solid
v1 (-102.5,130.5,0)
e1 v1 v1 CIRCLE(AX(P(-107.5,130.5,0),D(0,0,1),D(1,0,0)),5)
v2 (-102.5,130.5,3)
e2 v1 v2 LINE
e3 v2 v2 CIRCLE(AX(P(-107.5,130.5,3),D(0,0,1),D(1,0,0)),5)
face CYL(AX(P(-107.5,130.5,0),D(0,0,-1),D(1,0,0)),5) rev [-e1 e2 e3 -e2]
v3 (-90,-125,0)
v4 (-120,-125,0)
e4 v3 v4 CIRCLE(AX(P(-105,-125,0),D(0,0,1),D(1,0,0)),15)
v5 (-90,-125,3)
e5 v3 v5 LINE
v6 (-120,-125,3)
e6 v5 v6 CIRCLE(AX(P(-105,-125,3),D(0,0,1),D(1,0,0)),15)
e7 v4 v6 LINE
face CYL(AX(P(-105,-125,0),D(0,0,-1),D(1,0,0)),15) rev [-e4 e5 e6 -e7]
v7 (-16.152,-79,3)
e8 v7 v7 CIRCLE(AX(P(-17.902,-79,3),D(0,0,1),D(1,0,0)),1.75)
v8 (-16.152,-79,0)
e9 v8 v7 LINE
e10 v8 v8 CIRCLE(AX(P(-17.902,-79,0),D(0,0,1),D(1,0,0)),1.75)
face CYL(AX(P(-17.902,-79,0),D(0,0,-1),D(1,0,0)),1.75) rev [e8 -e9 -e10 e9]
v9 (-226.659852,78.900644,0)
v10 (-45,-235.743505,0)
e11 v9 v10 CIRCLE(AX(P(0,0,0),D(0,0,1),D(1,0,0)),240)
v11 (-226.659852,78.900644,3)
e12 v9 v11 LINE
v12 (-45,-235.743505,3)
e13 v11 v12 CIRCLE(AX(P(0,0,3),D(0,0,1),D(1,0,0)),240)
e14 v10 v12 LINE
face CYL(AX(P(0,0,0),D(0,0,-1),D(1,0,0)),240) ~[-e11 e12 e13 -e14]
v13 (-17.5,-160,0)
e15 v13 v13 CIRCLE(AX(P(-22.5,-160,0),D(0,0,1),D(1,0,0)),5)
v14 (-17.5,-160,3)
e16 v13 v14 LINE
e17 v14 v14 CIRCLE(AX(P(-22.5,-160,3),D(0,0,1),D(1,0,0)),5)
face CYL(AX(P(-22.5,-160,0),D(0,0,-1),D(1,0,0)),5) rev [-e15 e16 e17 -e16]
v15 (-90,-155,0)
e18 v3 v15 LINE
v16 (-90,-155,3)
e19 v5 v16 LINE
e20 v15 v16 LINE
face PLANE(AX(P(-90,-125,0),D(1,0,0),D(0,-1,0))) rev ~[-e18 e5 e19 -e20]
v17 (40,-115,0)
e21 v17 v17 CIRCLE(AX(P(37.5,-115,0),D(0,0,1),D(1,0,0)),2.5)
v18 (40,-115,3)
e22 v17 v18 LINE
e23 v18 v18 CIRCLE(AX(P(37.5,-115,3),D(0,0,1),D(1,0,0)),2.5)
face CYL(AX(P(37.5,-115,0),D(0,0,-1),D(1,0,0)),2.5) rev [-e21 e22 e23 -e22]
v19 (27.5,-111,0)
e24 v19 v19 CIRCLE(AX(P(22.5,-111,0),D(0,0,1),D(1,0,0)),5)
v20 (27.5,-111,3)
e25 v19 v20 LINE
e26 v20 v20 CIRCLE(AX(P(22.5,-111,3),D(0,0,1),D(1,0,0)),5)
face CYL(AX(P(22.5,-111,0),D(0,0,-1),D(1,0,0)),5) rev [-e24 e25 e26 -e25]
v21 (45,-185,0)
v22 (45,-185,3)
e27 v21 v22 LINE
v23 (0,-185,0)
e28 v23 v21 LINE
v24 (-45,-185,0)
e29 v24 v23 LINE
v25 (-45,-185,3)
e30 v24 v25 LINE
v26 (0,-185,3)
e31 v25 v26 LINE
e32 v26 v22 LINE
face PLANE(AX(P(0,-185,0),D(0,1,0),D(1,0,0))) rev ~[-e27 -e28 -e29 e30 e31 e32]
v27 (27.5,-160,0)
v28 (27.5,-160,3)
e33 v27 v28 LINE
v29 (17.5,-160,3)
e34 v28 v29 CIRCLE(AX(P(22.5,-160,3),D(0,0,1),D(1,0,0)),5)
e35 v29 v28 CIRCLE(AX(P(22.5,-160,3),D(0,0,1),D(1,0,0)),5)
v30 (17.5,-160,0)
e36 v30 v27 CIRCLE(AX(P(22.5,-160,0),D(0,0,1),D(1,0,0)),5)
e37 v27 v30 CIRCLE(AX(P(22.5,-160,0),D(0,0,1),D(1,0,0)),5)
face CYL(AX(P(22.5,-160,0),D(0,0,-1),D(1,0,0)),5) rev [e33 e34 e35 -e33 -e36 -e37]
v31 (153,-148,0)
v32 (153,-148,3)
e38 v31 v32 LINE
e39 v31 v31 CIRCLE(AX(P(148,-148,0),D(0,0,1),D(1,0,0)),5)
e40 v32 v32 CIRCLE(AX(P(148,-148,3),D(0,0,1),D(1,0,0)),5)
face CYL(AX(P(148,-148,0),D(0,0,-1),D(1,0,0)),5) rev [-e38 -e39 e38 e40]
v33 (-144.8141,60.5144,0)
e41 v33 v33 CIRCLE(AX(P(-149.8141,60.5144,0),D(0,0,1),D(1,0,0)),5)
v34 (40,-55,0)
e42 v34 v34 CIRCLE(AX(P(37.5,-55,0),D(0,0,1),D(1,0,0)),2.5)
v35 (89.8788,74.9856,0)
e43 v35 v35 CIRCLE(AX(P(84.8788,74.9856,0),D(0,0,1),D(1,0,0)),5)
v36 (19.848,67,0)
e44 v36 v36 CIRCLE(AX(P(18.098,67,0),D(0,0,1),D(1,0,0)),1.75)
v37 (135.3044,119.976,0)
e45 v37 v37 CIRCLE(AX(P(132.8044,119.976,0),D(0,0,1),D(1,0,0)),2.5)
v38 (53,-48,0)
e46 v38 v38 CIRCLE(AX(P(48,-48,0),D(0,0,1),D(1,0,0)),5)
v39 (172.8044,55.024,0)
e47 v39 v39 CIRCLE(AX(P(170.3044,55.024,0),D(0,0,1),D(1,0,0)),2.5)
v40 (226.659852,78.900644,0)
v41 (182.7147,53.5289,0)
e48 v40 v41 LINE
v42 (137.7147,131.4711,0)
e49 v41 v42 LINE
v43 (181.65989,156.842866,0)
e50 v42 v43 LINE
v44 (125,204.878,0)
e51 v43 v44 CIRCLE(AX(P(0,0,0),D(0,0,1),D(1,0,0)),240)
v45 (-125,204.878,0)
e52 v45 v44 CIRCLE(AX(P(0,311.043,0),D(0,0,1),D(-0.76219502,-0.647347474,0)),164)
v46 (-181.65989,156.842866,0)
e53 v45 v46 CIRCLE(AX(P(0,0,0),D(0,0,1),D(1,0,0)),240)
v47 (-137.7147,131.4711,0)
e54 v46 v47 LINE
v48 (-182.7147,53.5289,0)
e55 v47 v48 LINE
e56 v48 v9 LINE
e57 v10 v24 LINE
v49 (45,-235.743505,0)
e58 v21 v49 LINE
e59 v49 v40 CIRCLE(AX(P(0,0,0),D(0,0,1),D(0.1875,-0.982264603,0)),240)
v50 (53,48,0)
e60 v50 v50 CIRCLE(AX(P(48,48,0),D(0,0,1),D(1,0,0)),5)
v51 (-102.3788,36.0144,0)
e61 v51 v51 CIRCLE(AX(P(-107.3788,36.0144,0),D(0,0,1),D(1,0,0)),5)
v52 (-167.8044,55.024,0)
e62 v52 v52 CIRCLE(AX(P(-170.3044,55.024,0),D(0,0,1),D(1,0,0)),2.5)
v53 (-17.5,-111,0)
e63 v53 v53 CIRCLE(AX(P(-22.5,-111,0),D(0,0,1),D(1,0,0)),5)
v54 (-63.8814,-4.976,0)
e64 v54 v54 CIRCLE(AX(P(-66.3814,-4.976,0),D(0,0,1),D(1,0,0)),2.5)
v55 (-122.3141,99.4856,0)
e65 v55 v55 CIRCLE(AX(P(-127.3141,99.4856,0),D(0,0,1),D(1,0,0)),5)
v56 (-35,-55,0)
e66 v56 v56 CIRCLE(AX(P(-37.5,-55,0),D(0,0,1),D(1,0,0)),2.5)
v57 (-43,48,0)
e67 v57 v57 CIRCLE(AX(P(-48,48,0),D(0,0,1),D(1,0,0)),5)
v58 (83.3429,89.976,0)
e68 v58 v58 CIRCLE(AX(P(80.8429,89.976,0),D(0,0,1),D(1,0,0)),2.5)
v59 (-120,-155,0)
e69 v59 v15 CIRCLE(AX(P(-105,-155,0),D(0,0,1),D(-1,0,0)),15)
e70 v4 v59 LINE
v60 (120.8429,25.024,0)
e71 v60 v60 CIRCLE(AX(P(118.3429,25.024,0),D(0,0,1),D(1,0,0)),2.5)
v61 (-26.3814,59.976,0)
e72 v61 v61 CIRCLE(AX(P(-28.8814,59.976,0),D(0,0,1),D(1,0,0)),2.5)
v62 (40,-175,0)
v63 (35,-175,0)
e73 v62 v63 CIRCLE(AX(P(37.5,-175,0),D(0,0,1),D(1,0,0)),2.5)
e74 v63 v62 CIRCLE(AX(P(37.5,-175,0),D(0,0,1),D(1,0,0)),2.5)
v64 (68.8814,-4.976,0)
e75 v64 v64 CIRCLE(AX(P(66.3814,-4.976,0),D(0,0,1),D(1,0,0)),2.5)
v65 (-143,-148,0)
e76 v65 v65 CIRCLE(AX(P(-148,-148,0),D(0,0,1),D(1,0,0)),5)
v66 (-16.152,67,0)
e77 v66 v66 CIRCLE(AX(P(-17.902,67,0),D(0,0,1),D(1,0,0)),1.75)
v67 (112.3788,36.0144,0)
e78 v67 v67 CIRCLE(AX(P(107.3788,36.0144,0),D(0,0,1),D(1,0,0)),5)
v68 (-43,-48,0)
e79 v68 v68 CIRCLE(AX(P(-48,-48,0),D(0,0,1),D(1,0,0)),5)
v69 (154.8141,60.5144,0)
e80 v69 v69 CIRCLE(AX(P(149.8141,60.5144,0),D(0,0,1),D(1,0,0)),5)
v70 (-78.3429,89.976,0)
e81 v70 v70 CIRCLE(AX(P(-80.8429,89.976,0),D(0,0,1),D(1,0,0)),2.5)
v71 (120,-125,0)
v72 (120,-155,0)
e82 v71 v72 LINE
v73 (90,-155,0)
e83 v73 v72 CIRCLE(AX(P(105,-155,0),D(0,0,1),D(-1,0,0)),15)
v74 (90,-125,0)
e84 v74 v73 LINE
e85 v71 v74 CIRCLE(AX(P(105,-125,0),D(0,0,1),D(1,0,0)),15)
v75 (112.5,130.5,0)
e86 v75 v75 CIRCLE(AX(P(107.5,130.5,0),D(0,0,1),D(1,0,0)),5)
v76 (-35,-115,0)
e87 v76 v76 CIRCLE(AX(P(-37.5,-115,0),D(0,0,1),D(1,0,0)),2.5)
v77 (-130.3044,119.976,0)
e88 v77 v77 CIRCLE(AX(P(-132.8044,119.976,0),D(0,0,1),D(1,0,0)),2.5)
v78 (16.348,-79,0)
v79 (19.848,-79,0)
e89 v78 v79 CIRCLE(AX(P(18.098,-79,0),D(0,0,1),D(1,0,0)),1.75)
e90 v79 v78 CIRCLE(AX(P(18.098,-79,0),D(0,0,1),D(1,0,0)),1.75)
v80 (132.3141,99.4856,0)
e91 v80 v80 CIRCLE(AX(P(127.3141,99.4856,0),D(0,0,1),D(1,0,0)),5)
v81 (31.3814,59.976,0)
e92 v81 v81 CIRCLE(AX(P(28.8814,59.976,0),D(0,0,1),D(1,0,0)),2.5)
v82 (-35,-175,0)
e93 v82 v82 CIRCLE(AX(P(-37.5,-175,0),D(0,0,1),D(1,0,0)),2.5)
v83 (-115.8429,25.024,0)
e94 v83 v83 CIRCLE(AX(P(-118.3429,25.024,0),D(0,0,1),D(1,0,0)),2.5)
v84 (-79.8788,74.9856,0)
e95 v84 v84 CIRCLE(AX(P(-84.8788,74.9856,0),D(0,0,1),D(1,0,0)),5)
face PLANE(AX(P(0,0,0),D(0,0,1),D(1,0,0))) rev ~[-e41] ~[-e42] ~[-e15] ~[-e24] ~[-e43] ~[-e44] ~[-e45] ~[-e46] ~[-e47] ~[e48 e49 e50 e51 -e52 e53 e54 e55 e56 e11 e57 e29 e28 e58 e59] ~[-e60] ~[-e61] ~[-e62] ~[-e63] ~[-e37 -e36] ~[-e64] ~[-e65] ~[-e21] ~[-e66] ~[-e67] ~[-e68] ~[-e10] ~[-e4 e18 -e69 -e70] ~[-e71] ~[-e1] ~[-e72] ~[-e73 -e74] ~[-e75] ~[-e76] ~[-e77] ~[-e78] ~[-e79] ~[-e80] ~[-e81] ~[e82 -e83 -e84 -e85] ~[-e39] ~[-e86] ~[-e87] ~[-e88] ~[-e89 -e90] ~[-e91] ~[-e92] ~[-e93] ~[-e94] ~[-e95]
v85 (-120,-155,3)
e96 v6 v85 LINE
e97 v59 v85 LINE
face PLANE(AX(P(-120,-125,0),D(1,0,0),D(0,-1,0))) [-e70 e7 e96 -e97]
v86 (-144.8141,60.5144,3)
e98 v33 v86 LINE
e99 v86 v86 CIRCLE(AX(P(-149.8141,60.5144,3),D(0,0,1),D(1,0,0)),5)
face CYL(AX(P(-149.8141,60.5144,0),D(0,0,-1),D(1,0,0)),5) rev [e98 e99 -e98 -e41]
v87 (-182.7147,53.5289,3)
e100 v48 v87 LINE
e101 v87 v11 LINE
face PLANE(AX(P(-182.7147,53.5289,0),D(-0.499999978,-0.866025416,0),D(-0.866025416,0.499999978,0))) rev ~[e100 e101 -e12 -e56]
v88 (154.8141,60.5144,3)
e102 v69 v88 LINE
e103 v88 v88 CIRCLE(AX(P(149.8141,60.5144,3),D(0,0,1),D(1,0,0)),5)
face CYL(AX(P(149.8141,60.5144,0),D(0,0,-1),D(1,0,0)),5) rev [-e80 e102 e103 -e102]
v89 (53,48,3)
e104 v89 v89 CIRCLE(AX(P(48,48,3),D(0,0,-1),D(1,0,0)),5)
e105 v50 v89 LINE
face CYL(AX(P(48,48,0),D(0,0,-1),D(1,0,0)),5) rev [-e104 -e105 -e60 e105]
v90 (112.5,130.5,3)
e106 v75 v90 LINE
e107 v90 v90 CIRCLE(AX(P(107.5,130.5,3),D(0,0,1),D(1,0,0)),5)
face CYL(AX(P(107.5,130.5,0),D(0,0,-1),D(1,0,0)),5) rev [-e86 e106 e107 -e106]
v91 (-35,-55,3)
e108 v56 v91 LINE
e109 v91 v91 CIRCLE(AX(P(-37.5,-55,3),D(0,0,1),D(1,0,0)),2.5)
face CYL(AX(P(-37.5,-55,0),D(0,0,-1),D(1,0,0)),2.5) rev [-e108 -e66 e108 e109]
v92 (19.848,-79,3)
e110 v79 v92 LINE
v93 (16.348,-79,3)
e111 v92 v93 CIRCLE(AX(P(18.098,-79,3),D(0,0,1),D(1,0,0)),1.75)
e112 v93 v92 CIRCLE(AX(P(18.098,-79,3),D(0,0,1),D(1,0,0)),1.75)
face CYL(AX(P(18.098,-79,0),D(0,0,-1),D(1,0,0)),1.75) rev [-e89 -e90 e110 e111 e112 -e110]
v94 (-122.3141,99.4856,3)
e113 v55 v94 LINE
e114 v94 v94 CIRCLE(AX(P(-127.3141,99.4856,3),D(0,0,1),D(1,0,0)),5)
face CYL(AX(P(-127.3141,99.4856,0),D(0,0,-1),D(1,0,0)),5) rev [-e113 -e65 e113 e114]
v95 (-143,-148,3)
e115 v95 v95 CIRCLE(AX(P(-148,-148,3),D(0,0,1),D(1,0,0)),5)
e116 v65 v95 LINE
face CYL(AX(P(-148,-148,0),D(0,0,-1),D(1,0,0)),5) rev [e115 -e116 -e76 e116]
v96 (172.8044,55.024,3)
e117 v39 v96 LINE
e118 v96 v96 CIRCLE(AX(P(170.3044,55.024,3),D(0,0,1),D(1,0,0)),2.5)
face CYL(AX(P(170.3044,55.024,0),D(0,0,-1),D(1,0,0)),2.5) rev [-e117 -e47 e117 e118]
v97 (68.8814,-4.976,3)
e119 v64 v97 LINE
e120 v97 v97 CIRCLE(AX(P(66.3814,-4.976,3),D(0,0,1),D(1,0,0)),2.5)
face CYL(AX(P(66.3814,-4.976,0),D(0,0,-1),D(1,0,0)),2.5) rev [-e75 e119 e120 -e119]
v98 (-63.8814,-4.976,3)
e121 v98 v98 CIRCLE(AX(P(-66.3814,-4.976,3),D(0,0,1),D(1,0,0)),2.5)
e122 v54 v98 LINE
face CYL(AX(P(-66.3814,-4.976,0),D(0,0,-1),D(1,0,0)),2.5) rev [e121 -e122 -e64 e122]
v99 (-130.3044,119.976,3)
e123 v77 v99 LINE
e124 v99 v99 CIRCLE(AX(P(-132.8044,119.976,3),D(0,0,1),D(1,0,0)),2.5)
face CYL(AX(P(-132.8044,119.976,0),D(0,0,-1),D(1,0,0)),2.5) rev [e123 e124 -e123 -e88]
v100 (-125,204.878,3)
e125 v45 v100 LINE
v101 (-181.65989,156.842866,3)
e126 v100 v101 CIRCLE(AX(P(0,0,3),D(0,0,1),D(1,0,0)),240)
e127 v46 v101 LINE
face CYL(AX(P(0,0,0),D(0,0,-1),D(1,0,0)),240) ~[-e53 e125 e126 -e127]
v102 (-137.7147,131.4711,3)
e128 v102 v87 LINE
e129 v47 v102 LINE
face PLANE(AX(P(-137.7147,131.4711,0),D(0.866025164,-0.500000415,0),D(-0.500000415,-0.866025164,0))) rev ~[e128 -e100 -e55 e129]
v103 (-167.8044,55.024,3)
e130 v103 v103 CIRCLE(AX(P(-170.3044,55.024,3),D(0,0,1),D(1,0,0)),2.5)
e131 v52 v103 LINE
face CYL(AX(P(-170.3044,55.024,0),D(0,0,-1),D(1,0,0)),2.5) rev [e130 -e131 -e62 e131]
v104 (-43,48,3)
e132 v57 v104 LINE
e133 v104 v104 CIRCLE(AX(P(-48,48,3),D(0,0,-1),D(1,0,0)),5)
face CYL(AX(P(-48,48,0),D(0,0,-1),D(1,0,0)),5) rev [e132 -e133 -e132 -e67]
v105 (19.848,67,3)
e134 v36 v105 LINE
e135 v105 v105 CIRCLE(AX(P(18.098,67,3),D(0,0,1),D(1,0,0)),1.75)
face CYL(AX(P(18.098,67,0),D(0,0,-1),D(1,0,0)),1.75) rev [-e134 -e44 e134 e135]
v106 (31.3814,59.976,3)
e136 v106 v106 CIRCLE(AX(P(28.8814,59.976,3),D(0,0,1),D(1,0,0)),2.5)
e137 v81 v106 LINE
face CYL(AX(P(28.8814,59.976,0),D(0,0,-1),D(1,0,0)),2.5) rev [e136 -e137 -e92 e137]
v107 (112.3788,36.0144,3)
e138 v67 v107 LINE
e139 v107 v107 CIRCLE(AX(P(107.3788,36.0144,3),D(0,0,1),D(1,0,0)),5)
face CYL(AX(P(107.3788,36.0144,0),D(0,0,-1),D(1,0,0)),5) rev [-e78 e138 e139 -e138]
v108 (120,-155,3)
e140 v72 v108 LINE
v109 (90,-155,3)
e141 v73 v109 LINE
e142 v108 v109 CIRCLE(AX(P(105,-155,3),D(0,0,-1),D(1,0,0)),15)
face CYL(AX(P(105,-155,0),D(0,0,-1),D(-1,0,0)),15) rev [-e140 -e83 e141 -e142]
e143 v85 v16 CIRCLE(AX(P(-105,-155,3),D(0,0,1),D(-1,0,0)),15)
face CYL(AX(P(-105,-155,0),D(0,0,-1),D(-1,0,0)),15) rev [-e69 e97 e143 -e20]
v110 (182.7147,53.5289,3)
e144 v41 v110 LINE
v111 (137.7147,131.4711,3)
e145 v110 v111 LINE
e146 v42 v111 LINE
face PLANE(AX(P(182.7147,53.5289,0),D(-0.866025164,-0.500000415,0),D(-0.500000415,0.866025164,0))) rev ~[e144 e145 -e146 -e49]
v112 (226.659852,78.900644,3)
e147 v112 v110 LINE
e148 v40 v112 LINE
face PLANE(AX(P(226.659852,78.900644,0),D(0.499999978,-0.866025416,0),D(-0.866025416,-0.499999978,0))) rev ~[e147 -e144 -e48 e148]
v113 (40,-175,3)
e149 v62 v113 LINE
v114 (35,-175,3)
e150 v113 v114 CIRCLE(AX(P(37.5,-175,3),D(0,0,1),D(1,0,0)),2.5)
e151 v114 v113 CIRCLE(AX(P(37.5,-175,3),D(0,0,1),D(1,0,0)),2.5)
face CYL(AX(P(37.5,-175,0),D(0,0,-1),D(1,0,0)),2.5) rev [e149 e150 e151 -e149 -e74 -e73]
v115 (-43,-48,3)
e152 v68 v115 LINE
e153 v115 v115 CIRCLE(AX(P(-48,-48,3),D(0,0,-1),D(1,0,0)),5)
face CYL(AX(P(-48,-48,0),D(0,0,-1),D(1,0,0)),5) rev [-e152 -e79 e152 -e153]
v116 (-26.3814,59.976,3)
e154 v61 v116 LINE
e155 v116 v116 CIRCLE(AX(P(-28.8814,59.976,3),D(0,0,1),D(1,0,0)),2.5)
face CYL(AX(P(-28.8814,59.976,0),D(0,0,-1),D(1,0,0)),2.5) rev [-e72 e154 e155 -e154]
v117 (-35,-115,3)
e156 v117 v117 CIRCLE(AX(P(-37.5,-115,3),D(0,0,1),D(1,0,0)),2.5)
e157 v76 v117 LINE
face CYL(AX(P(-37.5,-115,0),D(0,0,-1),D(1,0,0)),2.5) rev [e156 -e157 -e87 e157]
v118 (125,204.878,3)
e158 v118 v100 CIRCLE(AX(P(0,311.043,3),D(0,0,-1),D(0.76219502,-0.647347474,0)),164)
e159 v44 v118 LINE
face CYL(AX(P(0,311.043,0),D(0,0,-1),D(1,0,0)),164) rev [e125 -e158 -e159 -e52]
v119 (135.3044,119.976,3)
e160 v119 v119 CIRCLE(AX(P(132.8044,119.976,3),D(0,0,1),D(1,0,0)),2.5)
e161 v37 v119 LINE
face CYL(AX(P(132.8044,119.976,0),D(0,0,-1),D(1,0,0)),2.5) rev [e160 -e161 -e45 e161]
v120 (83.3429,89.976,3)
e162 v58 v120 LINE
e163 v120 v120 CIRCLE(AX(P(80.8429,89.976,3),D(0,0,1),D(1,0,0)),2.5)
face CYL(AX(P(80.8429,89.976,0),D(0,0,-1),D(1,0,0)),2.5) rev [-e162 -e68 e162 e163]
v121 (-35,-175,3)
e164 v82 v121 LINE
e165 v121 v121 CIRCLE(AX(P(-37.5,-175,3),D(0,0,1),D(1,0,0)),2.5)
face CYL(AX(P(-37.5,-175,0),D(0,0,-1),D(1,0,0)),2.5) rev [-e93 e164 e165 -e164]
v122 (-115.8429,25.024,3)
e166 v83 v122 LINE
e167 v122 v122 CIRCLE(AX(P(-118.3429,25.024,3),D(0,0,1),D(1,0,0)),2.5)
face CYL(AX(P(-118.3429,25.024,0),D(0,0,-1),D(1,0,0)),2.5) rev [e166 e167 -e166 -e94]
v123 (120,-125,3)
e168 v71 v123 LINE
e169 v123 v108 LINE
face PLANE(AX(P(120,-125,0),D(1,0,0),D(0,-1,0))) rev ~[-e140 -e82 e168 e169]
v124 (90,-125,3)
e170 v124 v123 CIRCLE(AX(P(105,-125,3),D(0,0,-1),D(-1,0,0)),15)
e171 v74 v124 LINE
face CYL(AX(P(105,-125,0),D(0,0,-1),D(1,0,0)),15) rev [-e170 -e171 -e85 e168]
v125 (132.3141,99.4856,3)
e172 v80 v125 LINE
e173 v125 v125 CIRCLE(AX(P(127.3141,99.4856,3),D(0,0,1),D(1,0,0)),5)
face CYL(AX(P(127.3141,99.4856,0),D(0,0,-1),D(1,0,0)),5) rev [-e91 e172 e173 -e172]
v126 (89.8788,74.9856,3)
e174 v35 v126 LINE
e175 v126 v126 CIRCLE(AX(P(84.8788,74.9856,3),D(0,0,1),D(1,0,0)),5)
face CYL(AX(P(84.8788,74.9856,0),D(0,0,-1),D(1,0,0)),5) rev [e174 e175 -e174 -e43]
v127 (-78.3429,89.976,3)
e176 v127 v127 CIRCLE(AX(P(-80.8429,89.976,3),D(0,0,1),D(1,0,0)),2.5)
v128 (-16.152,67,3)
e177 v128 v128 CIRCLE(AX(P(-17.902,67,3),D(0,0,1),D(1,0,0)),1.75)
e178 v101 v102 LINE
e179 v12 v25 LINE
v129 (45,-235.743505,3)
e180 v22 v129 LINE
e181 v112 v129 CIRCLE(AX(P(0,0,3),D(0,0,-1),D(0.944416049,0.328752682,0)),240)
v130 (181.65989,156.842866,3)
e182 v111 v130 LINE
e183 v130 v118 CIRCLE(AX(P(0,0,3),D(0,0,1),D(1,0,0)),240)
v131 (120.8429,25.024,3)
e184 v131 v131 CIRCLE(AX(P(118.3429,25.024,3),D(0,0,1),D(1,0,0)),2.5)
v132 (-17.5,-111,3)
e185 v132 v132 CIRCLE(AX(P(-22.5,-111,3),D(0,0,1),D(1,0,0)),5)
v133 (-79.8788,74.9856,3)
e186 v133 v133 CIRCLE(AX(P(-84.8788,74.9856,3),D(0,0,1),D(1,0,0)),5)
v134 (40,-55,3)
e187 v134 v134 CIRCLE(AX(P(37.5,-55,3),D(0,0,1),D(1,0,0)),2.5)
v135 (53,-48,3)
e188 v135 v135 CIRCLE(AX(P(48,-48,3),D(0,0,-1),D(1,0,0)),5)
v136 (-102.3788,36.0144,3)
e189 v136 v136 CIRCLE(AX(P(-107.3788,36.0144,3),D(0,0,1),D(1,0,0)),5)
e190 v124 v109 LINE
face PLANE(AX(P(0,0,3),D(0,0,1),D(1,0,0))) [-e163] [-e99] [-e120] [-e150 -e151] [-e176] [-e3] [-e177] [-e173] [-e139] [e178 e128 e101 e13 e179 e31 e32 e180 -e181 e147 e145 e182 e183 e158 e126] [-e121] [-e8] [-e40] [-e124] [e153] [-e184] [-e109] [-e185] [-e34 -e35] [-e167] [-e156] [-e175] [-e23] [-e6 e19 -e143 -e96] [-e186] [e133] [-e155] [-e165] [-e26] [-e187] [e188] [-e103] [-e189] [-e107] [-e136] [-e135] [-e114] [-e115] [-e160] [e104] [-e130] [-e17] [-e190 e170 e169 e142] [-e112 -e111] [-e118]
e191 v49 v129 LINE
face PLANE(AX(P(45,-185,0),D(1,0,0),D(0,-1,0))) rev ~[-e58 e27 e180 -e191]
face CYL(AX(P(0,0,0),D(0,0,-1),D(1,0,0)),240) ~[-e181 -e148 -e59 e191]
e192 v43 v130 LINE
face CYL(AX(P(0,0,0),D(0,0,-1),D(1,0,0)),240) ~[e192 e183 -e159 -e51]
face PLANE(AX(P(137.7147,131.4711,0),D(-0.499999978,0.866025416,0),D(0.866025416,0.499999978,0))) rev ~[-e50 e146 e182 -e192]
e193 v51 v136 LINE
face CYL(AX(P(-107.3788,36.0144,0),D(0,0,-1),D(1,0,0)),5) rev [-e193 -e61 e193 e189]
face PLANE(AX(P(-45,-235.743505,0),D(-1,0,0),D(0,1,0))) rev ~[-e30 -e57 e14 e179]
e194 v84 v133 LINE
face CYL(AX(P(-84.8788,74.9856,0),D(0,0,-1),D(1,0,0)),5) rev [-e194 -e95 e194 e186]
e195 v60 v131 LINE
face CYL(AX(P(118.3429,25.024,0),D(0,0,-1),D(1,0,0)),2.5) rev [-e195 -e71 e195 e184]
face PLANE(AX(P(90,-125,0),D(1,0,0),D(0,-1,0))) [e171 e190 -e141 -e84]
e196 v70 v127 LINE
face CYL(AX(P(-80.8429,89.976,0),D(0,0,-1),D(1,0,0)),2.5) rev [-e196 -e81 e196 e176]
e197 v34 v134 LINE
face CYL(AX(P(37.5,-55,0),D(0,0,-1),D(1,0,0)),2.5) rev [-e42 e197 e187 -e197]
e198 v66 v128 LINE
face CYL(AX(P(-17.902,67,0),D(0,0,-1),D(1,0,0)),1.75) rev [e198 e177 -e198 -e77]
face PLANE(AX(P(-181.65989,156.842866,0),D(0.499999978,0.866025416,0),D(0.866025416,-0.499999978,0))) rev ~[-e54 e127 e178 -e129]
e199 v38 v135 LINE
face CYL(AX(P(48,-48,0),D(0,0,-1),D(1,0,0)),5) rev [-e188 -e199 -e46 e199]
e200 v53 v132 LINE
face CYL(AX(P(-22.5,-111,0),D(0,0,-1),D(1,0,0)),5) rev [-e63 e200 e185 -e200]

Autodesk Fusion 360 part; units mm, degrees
sketch "Esboço1" plane through (0, 0, 0) normal (0, 0, 1) x (1, 0, 0)
  circle A0 centre (0, 0) radius 240
  line L0 (48, -48) -> (-48, -48)
  line L1 (-48, -48) -> (-48, 48)
  line L2 (-48, 48) -> (48, 48)
  line L3 (48, 48) -> (48, -48)
  line L4 (48, -48) -> (-48, 48) construction
  line L5 (-48, -48) -> (48, 48) construction
  circle A1 centre (-48, 48) radius 5
  circle A2 centre (-48, -48) radius 5
  circle A3 centre (48, 48) radius 5
  circle A4 centre (48, -48) radius 5
  line L6 (105, -110) -> (105, -170)
  line L7 (90, -125) -> (90, -155)
  line L8 (120, -125) -> (120, -155)
  arc A5 (120, -125) -> (90, -125) centre (105, -125) ccw
  arc A6 (90, -155) -> (120, -155) centre (105, -155) ccw
  circle A7 centre (148, -148) radius 5
  line L9 (-125, 204.878) -> (125, 204.878)
  circle A8 centre (0, 311.043) radius 164
  circle A9 centre (107.5, 130.5) radius 5
  line L10 (-40, 115) -> (40, 115)
  line L11 (-40, 115) -> (-40, 151.9958)
  line L12 (40, 115) -> (40, 151.9958)
  line L13 (0, 1.75) -> (0, 22.5)
  line L14 (-120, -125) -> (-120, -155)
  arc A10 (-90, -125) -> (-120, -125) centre (-105, -125) ccw
  line L15 (-90, -125) -> (-90, -155)
  arc A11 (-120, -155) -> (-90, -155) centre (-105, -155) ccw
  circle A12 centre (-148, -148) radius 5
  circle A13 centre (-107.5, 130.5) radius 5
  line L16 (-45, -185) -> (45, -185)
  line L17 (45, -185) -> (45, -240)
  line L18 (45, -240) -> (-45, -240)
  line L19 (-45, -240) -> (-45, -185)
  line L20 (0, -185) -> (0, -175)
  line L21 (-37.5, -175) -> (37.5, -175)
  circle A14 centre (-37.5, -175) radius 2.5
  circle A15 centre (37.5, -175) radius 2.5
  circle A16 centre (37.5, -115) radius 2.5
  circle A17 centre (37.5, -55) radius 2.5
  circle A18 centre (-37.5, -115) radius 2.5
  circle A19 centre (-37.5, -55) radius 2.5
  circle A20 centre (132.8044, 119.976) radius 2.5
  line L22 (230.3461, 81.0289) -> (182.7147, 53.5289)
  line L23 (182.7147, 53.5289) -> (137.7147, 131.4711)
  line L24 (137.7147, 131.4711) -> (185.3461, 158.9711)
  circle A21 centre (80.8429, 89.976) radius 2.5
  circle A22 centre (170.3044, 55.024) radius 2.5
  circle A23 centre (118.3429, 25.024) radius 2.5
  circle A24 centre (66.3814, -4.976) radius 2.5
  circle A25 centre (28.8814, 59.976) radius 2.5
  circle A26 centre (-170.3044, 55.024) radius 2.5
  line L25 (-185.3461, 158.9711) -> (-137.7147, 131.4711)
  line L26 (-137.7147, 131.4711) -> (-182.7147, 53.5289)
  line L27 (-182.7147, 53.5289) -> (-230.3461, 81.0289)
  circle A27 centre (-118.3429, 25.024) radius 2.5
  circle A28 centre (-132.8044, 119.976) radius 2.5
  circle A29 centre (-80.8429, 89.976) radius 2.5
  circle A30 centre (-28.8814, 59.976) radius 2.5
  circle A31 centre (-66.3814, -4.976) radius 2.5
  line L28 (0, -185) -> (0, -160)
  line L29 (-22.5, -160) -> (22.5, -160)
  circle A32 centre (-22.5, -160) radius 5
  circle A33 centre (22.5, -160) radius 5
  circle A34 centre (-22.5, -111) radius 5
  circle A35 centre (22.5, -111) radius 5
  circle A36 centre (149.8141, 60.5144) radius 5
  circle A37 centre (107.3788, 36.0144) radius 5
  circle A38 centre (84.8788, 74.9856) radius 5
  circle A39 centre (127.3141, 99.4856) radius 5
  circle A40 centre (-127.3141, 99.4856) radius 5
  circle A41 centre (-84.8788, 74.9856) radius 5
  circle A42 centre (-107.3788, 36.0144) radius 5
  circle A43 centre (-149.8141, 60.5144) radius 5
  line L30 (-17.902, -79) -> (18.098, -79)
  circle A44 centre (-17.902, -79) radius 1.75
  circle A45 centre (18.098, -79) radius 1.75
  line L31 (0, 311.043) -> (0, 115)
  circle A46 centre (-17.902, 67) radius 1.75
  circle A47 centre (18.098, 67) radius 1.75
  point P0 (105, -110)
  point P1 (0, 115)
  point P2 (0, -240)
  point P3 (-45, -235.7435)
  point P4 (-181.6599, 156.8429)
  point P5 (181.6599, 156.8429)
  point P6 (0.098, -79)
  dimension "d1" = 480
  dimension "d2" = 96
  dimension "d3" = 96
  dimension "d4" = 10
  dimension "d5" = 10
  dimension "d6" = 10
  dimension "d7" = 10
  dimension "d8" = 110
  dimension "d9" = 105
  dimension "d10" = 30
  dimension "d11" = 60
  dimension "d12" = 30
  dimension "d13" = 10
  dimension "d14" = 148
  dimension "d15" = 148
  dimension "d16" = 250
  dimension "d17" = 328
  dimension "d18" = 10
  dimension "d19" = 130.5
  dimension "d20" = 107.5
  dimension "d21" = 115
  dimension "d22" = 80
  dimension "d25" = 90
  dimension "d26" = 55
  dimension "d27" = 10
  dimension "d28" = 75
  dimension "d29" = 5
  dimension "d30" = 5
  dimension "d33" = 1
  dimension "d34" = 60
  dimension "d36" = 360
  dimension "d37" = 25
  dimension "d38" = 45
  dimension "d39" = 10
  dimension "d40" = 10
  dimension "d43" = 0
  dimension "d44" = 49
  dimension "d45" = 36
  dimension "d46" = 3.5
  dimension "d47" = 3.5
  dimension "d51" = 0
  dimension "d52" = 146
  dimension "d53" = 32
extrude "Extrusão1" add sketch "Esboço1" along normal blind 3 contours A0 A8 L10 L11 L12 L16 L17 L19 L22 L23 L24 L25 L26 L27 | A8 L10 L12 L31 | A8 L10 L11 L31 | L0 L1 L2 L3 A1 A2 A3 A4
equation "d12 = d10"
equation "d17 = ( 164 * 2 ) * 1 mm"
